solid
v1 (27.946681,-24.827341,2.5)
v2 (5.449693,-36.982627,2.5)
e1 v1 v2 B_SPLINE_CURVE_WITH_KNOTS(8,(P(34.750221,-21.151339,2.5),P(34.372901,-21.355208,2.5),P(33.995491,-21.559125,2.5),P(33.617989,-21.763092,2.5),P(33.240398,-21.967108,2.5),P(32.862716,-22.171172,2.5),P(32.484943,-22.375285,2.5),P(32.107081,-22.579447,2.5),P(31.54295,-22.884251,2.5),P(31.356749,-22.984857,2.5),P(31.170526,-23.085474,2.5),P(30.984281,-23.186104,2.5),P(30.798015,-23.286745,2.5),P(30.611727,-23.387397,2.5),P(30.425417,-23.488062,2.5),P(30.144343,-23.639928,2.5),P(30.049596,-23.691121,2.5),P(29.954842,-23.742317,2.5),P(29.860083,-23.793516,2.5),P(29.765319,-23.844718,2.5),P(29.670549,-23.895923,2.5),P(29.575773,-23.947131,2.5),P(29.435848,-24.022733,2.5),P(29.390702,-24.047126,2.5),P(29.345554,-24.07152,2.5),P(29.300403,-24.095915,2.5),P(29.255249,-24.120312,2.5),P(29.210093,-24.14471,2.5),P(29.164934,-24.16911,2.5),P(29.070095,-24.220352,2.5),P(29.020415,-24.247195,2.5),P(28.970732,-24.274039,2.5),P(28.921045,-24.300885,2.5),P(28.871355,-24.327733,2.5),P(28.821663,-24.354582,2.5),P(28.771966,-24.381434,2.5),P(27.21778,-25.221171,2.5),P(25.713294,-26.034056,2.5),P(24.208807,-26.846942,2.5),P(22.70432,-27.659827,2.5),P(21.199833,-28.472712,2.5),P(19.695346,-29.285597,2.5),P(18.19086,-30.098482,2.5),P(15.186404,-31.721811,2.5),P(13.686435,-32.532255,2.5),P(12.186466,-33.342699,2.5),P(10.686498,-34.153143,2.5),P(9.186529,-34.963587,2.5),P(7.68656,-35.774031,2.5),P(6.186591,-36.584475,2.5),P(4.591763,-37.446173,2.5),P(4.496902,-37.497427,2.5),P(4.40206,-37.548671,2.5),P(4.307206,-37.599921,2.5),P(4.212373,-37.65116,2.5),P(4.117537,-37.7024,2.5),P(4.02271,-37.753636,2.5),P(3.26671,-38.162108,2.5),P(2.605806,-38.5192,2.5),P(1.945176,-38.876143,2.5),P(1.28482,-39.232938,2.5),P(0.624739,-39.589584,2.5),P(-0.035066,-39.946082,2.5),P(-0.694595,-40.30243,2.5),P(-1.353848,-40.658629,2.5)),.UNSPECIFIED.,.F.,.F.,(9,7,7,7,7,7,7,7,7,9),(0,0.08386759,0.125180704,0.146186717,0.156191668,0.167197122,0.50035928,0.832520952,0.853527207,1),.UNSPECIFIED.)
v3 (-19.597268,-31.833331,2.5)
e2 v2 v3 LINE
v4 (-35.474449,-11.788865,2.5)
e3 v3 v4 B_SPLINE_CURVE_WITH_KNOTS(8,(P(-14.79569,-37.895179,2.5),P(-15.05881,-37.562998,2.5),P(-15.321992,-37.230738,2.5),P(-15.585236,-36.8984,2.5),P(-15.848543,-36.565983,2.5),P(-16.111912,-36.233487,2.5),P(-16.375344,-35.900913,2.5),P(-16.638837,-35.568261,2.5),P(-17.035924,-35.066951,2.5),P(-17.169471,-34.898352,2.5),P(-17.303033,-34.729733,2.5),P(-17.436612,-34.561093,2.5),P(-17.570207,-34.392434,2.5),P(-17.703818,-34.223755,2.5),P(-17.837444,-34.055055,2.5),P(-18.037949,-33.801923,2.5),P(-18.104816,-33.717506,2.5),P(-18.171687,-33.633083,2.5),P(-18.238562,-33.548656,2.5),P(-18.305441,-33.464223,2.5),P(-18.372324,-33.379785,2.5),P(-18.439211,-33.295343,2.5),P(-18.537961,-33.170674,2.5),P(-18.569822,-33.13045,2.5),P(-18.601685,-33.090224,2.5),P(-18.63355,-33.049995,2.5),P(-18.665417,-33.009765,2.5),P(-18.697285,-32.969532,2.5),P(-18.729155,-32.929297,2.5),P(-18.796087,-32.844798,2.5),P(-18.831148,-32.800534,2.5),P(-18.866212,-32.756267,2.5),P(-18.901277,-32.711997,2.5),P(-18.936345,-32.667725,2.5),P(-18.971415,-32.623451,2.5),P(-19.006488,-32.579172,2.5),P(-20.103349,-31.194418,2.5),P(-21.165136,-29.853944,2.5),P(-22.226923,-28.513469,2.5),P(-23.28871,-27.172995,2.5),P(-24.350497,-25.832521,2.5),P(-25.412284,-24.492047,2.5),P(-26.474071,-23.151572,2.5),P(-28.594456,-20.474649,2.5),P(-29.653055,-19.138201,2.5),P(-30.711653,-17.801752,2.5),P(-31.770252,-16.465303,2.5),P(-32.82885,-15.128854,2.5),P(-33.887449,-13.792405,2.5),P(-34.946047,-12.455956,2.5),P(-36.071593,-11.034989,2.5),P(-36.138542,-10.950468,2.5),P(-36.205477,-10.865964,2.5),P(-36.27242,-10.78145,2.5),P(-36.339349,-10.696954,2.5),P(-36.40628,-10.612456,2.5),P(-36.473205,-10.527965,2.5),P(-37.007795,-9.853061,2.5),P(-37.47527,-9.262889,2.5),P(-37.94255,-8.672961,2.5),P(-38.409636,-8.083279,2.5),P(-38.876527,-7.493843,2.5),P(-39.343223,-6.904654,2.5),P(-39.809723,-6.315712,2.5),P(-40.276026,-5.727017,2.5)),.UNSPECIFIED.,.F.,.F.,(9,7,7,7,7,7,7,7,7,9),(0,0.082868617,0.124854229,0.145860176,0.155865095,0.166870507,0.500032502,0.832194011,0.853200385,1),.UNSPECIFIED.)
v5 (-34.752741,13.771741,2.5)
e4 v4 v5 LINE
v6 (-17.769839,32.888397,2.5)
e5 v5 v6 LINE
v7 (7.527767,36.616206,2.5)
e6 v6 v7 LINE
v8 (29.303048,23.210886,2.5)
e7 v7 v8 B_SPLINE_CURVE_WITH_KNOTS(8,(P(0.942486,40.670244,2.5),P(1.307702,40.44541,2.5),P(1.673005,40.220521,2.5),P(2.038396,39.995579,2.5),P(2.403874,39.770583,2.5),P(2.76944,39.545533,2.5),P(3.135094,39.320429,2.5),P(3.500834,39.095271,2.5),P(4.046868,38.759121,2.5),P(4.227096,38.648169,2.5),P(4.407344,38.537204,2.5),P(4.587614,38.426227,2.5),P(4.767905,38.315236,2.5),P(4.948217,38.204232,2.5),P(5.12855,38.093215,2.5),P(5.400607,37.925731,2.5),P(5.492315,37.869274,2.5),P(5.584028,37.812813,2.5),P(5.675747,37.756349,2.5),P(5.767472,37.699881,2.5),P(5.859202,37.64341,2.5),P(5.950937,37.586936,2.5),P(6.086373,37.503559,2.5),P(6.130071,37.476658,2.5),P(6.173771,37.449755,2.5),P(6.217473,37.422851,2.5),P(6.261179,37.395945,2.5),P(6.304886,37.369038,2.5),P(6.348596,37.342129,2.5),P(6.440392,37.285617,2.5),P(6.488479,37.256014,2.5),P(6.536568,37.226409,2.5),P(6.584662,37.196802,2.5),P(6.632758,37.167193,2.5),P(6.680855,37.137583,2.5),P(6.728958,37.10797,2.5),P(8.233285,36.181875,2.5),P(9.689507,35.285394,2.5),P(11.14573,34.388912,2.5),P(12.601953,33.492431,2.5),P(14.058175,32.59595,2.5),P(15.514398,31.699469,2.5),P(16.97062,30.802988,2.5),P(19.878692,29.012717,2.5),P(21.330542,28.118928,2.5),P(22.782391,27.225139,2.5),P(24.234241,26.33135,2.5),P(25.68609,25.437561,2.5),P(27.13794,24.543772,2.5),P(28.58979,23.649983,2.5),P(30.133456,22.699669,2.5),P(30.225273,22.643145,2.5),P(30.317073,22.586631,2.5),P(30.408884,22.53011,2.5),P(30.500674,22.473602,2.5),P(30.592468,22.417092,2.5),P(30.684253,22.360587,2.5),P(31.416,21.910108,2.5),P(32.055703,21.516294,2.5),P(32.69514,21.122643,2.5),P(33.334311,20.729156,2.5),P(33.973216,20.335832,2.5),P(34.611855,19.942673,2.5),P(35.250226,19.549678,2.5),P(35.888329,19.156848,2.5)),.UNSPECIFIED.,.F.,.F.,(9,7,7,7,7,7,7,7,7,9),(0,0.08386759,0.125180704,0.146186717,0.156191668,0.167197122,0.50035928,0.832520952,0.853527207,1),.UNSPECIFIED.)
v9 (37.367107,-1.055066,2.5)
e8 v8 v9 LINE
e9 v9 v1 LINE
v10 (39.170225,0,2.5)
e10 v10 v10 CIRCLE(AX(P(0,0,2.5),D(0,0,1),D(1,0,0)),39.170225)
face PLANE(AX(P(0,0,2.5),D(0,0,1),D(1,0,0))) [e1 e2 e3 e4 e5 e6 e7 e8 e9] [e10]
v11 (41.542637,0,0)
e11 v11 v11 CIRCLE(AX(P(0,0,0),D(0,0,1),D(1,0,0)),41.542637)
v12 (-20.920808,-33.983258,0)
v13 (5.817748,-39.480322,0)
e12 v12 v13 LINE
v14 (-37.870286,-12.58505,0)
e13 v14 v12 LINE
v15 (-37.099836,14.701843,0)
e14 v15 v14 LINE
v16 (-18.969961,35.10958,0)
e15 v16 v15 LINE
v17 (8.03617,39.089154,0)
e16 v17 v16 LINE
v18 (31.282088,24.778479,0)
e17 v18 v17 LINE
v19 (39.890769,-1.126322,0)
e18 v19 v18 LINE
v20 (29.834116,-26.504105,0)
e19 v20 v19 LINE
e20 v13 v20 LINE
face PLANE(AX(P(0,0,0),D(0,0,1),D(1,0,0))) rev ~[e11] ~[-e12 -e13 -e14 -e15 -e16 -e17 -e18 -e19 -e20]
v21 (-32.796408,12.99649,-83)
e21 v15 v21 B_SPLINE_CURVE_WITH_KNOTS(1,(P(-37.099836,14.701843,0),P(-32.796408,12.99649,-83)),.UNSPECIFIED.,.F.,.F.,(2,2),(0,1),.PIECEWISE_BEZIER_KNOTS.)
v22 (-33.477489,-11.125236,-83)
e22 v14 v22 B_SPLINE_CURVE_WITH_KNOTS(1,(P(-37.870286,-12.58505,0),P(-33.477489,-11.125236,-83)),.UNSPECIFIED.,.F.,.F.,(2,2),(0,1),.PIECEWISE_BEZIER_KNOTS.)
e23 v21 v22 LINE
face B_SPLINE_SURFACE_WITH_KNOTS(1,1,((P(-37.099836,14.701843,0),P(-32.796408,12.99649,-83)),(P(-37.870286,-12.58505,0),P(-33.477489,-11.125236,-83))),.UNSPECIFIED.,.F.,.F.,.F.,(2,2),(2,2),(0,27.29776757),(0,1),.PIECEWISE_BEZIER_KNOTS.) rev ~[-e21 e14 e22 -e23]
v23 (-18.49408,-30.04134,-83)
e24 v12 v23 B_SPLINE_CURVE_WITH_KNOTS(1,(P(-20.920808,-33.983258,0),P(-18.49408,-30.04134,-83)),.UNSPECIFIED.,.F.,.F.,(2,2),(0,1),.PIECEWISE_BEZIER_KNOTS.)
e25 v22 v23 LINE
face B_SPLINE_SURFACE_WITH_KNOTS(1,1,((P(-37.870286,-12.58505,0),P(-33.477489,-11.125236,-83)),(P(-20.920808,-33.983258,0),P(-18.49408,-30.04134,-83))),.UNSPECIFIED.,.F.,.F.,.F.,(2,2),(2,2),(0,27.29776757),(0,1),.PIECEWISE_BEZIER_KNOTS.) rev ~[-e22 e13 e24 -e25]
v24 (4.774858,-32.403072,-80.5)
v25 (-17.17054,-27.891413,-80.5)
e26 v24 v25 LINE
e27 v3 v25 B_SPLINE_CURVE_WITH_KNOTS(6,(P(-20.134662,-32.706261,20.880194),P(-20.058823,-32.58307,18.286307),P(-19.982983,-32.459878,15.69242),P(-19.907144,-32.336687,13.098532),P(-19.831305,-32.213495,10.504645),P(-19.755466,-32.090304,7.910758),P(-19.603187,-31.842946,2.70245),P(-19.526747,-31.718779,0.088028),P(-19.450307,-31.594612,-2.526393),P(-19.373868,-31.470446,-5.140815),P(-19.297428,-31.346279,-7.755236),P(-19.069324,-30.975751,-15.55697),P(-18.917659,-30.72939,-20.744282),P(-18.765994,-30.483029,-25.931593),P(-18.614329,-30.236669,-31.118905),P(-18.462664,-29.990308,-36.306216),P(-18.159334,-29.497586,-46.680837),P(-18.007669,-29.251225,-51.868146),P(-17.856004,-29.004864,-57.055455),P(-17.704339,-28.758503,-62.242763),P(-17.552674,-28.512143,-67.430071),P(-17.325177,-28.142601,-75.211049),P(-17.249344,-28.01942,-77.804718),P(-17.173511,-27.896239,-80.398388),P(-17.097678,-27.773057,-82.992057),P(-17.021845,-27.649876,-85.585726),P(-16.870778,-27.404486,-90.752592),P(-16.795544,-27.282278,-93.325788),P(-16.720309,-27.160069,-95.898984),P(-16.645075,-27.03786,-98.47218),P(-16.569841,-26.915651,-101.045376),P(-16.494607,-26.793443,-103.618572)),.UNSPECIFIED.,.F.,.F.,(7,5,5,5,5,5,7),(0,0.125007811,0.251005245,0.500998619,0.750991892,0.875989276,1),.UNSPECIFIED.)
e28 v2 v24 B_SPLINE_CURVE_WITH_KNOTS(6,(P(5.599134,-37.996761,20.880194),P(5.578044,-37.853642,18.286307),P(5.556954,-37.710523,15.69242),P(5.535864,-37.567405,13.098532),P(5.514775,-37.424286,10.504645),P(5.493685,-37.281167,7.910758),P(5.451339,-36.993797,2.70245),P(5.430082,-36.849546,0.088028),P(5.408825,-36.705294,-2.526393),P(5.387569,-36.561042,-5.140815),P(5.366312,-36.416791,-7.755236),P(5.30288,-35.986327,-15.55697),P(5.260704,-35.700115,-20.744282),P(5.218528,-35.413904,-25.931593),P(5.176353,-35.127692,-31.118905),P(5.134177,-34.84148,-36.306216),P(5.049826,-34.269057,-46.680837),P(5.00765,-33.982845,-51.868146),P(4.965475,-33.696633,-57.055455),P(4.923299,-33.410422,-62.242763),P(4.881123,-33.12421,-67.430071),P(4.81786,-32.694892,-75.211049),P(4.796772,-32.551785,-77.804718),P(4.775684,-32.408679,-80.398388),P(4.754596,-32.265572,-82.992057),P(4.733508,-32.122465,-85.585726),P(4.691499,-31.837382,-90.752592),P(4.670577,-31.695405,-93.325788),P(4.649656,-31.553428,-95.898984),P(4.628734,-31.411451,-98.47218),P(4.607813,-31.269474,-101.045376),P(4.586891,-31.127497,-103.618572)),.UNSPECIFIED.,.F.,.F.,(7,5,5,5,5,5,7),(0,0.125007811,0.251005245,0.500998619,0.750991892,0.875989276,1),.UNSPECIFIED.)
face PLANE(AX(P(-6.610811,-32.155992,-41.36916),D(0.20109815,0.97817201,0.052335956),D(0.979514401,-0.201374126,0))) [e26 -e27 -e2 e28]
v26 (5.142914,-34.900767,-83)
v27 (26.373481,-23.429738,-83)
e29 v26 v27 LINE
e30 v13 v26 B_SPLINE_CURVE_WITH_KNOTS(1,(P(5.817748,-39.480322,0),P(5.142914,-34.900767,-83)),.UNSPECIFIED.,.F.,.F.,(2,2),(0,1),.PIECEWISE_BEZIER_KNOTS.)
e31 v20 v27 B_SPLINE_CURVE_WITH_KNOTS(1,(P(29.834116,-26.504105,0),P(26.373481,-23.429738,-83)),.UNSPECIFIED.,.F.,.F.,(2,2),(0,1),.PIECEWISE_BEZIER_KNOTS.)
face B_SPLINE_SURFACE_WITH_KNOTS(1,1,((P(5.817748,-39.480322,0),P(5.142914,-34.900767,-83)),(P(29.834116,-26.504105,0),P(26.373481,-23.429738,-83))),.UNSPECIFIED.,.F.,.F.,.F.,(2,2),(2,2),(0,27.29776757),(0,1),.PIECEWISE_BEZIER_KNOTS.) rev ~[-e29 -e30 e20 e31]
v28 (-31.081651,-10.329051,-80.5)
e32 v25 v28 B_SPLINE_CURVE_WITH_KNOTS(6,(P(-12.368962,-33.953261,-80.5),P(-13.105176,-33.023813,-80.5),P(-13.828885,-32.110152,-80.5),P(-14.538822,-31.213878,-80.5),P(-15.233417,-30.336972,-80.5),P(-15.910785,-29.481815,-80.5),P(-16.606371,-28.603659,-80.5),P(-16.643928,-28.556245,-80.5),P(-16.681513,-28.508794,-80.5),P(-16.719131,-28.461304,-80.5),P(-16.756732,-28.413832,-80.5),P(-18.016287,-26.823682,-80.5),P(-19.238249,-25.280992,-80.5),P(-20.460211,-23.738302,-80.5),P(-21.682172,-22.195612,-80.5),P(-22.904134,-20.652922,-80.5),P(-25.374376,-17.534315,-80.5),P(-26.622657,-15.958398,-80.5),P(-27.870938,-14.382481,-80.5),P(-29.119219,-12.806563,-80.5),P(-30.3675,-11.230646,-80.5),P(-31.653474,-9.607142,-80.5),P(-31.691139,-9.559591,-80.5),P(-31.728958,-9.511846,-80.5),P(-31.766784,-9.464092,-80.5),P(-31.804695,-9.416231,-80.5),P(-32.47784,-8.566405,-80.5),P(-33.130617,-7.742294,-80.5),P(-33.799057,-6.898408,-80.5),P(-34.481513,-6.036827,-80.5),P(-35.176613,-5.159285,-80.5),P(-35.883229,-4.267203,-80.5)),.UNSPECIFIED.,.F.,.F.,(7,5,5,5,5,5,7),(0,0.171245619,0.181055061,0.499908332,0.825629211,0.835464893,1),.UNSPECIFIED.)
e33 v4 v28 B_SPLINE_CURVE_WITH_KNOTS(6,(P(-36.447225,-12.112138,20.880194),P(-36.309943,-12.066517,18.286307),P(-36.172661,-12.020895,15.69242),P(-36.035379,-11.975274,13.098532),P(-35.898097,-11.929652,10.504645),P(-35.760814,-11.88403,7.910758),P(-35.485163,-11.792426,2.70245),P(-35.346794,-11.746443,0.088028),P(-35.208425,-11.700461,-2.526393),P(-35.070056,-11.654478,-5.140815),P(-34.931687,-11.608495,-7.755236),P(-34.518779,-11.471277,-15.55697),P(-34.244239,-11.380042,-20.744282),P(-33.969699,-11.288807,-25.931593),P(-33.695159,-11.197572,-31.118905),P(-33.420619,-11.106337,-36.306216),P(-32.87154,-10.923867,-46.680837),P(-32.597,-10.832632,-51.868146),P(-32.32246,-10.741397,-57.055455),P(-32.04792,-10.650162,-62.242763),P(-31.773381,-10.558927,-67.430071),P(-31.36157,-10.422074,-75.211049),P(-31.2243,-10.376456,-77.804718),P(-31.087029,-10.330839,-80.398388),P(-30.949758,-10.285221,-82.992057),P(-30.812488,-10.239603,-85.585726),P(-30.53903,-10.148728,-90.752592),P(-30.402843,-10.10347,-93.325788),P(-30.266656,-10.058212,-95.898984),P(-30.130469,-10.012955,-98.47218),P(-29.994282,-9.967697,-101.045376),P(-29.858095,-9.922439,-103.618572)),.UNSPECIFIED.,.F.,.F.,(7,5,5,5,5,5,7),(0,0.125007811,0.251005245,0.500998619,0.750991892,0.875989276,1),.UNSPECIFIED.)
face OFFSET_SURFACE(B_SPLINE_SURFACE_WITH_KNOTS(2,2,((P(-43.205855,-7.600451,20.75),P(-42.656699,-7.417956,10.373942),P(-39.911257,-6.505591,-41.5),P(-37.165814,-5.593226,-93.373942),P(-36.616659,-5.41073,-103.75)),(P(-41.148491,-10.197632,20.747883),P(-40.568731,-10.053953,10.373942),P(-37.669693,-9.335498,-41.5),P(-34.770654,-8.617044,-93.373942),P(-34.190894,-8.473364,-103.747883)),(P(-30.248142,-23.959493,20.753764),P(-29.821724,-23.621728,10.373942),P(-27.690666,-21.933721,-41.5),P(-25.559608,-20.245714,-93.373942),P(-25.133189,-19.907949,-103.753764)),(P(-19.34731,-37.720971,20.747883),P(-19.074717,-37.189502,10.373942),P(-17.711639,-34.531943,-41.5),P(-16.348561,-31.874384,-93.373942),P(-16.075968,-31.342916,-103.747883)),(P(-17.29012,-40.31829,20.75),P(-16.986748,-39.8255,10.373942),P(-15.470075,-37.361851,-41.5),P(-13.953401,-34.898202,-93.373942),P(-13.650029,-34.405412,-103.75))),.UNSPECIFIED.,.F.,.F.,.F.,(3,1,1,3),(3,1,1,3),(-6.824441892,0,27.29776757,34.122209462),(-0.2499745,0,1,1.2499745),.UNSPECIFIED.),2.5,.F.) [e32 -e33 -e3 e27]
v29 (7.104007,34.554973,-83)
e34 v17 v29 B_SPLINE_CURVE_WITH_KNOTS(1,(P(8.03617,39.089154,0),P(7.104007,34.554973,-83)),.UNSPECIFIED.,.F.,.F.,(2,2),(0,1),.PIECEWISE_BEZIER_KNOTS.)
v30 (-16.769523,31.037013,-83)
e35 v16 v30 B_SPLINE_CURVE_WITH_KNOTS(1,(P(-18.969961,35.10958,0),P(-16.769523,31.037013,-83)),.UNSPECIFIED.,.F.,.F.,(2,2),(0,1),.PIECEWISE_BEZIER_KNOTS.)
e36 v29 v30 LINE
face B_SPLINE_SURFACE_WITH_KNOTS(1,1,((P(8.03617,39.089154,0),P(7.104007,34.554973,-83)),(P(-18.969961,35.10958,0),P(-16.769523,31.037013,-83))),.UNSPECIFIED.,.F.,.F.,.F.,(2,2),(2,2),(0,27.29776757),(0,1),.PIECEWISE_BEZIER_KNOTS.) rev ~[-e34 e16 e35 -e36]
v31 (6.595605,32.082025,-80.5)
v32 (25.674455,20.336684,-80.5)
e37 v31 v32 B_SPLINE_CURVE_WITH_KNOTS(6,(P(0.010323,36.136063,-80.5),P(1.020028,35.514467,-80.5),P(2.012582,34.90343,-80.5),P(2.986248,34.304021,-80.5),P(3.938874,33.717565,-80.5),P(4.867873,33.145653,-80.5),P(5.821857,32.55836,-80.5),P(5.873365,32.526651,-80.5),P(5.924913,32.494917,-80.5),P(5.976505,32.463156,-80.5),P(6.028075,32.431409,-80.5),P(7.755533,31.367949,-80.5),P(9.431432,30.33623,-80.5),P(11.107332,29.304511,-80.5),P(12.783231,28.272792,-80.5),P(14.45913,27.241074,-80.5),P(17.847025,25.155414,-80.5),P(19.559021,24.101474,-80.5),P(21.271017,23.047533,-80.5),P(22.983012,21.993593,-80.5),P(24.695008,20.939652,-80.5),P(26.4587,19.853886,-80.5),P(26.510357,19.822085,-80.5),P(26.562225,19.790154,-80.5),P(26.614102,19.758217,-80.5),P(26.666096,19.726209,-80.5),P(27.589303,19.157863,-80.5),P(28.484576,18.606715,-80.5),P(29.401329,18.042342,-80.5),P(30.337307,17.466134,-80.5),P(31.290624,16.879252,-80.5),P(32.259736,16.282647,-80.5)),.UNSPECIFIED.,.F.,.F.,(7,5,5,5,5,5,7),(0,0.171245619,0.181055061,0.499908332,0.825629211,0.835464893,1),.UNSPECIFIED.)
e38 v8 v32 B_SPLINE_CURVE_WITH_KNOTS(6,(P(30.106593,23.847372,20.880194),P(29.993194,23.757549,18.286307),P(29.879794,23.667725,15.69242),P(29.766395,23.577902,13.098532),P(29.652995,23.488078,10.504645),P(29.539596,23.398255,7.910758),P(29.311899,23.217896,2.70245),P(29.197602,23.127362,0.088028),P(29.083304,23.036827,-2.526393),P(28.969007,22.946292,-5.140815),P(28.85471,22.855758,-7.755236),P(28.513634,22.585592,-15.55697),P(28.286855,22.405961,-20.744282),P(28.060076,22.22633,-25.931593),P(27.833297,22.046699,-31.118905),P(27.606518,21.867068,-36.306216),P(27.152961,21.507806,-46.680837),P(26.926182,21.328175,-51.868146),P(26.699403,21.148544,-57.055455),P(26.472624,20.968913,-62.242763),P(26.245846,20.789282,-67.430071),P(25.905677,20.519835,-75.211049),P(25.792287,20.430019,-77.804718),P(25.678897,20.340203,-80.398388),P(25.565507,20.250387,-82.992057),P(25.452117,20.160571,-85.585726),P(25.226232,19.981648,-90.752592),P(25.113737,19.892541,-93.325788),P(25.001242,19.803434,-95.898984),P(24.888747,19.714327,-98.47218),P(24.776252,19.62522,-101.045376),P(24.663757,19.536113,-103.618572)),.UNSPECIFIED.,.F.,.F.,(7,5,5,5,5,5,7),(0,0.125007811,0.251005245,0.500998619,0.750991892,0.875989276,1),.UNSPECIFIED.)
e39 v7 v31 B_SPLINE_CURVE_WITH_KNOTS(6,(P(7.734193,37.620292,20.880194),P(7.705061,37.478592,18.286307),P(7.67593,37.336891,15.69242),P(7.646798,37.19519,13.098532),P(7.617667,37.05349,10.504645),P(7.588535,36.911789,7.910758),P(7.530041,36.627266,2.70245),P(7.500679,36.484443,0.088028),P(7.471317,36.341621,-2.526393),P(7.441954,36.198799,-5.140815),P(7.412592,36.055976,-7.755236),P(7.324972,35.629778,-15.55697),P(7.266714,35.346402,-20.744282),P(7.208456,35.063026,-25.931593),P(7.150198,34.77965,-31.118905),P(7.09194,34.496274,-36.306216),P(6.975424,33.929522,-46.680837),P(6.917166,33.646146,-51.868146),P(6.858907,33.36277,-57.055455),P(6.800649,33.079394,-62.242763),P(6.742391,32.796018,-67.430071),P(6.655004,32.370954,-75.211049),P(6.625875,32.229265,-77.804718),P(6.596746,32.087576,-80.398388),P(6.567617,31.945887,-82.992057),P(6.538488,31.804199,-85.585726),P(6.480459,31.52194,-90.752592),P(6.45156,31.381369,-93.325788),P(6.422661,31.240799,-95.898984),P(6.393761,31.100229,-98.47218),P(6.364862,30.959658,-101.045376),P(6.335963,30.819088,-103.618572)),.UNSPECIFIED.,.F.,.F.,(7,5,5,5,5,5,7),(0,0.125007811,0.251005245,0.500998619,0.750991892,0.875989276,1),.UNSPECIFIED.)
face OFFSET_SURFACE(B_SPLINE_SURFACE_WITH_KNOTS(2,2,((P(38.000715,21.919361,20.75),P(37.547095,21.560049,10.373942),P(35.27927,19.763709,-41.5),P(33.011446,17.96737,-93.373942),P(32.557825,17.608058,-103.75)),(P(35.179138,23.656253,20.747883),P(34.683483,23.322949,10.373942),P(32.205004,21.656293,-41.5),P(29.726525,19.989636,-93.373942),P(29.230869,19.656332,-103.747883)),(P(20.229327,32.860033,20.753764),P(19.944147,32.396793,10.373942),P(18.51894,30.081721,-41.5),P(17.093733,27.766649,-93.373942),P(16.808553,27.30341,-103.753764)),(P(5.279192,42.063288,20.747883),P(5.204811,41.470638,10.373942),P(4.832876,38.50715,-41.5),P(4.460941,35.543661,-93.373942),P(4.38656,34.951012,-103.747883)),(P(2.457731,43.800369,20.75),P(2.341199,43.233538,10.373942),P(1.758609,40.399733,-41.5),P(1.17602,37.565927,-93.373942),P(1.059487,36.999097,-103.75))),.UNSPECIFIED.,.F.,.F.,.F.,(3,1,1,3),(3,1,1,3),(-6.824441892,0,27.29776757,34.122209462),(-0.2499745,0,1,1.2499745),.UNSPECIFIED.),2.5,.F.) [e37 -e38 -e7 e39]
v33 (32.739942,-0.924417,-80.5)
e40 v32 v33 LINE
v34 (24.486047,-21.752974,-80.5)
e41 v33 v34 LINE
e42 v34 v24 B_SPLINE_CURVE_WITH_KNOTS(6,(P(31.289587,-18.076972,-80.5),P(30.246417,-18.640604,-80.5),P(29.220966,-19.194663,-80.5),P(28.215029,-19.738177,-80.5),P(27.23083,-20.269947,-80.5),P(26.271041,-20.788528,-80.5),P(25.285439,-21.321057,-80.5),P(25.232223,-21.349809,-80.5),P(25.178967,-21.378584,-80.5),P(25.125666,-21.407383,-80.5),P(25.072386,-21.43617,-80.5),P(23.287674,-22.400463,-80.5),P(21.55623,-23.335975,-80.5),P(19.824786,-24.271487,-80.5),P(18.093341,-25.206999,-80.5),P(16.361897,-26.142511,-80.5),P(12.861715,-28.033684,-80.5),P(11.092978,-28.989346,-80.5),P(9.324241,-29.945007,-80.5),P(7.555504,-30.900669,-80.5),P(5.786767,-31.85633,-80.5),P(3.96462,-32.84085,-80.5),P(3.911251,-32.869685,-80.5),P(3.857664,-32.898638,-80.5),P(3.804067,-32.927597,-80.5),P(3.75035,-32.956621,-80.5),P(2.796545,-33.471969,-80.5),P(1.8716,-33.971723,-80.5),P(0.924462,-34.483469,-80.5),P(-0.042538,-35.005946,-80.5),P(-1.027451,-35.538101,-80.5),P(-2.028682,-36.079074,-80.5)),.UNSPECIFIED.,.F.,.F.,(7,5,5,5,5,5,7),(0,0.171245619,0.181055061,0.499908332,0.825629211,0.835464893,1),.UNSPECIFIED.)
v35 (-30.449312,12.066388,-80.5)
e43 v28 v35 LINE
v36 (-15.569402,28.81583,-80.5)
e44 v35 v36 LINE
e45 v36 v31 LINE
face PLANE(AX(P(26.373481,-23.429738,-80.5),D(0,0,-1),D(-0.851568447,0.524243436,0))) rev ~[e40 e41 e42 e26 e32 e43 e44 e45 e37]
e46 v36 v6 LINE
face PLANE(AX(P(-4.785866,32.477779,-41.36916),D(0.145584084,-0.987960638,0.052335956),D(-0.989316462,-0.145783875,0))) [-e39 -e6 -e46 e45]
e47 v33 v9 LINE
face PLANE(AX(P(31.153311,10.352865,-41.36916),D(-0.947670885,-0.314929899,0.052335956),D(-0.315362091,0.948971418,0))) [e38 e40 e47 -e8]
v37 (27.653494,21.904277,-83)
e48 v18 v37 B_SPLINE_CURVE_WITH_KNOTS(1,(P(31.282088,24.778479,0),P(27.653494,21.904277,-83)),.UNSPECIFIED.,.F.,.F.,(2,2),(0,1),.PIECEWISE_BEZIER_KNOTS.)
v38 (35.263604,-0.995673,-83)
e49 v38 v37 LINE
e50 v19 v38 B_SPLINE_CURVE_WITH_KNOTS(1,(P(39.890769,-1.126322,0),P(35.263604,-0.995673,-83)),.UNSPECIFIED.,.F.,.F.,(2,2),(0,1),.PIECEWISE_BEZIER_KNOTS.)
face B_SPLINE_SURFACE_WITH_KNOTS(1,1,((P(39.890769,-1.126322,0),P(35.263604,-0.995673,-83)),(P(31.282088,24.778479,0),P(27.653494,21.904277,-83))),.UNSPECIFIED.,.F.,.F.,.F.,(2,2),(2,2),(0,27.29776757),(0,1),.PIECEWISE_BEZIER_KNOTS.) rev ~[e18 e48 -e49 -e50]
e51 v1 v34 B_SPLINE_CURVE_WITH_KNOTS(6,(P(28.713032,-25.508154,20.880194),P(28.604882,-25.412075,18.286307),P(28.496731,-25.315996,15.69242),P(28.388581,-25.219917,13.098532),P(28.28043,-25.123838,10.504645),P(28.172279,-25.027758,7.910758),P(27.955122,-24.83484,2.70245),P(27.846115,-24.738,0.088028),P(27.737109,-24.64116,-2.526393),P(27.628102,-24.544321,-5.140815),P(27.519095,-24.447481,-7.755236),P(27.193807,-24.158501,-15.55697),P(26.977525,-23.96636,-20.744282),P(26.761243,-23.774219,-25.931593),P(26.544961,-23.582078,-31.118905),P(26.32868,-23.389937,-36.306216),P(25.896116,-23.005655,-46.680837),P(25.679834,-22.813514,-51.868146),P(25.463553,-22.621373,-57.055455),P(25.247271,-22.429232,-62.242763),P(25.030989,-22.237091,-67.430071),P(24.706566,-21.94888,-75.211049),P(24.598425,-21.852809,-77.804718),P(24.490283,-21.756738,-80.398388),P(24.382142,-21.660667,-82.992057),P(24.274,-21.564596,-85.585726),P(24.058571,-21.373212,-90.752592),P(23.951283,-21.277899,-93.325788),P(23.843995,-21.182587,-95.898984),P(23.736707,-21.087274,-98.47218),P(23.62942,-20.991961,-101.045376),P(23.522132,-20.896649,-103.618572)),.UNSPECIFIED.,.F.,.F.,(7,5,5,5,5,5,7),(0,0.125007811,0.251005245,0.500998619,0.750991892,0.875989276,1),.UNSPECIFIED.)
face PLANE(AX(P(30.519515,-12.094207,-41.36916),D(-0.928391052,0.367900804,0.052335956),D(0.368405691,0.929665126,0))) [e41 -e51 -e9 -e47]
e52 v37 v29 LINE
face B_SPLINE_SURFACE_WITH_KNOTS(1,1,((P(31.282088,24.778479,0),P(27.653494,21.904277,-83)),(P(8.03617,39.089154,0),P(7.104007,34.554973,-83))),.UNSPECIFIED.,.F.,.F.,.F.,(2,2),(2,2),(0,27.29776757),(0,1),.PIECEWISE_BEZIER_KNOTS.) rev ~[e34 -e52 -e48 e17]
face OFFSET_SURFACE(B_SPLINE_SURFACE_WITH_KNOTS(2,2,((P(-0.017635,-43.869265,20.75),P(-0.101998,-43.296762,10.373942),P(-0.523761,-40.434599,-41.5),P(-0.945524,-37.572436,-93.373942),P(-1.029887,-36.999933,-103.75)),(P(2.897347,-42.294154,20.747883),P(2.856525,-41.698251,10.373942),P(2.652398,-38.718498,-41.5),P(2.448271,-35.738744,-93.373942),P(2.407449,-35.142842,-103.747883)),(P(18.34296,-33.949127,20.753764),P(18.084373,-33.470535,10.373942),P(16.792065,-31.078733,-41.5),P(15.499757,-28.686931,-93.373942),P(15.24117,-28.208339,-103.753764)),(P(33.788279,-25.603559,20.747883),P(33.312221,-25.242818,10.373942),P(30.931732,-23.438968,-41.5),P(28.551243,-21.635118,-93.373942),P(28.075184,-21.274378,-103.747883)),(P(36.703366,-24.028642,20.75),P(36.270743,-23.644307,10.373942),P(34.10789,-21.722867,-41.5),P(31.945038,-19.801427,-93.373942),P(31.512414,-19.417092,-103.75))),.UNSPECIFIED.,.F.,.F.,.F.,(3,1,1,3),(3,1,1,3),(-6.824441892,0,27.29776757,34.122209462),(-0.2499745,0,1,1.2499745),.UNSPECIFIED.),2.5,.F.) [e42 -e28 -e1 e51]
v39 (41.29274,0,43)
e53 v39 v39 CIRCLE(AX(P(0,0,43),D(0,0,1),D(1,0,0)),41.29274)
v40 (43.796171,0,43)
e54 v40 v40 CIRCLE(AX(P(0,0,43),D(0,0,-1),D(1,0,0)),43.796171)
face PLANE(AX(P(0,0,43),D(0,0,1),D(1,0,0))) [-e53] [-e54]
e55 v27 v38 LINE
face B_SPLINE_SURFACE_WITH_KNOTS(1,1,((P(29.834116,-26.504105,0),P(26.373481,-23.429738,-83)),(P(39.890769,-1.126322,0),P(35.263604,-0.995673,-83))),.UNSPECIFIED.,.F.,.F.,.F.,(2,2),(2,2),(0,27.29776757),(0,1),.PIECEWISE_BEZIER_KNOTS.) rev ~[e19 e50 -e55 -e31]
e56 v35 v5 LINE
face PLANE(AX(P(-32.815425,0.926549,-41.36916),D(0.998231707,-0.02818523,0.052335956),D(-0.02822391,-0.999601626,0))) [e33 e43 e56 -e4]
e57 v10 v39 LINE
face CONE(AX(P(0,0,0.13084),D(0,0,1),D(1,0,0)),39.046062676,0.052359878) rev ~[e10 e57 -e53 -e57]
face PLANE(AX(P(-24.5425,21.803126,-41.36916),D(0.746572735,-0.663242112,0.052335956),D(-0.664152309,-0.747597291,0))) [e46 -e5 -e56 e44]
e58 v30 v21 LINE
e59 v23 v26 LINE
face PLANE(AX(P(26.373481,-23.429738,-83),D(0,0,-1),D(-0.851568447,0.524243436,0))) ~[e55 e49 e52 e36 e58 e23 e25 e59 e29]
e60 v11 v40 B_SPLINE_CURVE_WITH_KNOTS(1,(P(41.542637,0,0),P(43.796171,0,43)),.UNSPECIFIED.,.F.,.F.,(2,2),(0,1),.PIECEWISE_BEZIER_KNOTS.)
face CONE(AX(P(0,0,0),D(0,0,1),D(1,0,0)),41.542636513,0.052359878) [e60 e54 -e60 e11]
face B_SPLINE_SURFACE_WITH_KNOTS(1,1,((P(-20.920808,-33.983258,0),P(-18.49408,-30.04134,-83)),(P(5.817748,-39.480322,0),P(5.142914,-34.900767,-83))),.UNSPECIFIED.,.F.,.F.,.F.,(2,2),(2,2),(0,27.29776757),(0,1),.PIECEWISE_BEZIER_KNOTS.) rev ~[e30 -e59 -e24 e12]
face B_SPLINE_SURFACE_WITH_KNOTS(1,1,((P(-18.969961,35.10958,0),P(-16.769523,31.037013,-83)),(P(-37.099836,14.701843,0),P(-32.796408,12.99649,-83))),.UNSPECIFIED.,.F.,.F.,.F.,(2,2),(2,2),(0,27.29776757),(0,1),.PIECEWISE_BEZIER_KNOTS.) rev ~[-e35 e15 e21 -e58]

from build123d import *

# Parameters (mm, degrees)
F1_DEPTH = 83
F1_TAPER = 3
F2_R     = 41.5426365129
F3_DEPTH = 43
F3_TAPER = -3
F4_T     = -2.5


with BuildPart() as f1:
    # F0 (on Top) → F1 (new body)
    with BuildSketch(Plane.XY):
        Polygon((29.8341157565, -26.5041046934), (39.8907686935, -1.126322166), (31.2820876222, 24.7784790206), (8.0361700908, 39.0891544913), (-18.9699607381, 35.109580148), (-37.0998361101, 14.7018430539), (-37.8702858474, -12.5850497979), (-20.9208079553, -33.983257982), (5.8177484879, -39.4803220745), align=None)
    extrude(amount=-F1_DEPTH, taper=F1_TAPER)

    # F2 (on Top) → F3 (join)
    with BuildSketch(Plane.XY):
        Circle(F2_R)
    extrude(amount=F3_DEPTH, taper=F3_TAPER)

    # F4
    f4_openings = [f1.faces().sort_by_distance(p)[0] for p in [
        (0, 0, 43),
    ]]
    offset(amount=F4_T, openings=f4_openings, kind=Kind.INTERSECTION)


solid = f1.part
